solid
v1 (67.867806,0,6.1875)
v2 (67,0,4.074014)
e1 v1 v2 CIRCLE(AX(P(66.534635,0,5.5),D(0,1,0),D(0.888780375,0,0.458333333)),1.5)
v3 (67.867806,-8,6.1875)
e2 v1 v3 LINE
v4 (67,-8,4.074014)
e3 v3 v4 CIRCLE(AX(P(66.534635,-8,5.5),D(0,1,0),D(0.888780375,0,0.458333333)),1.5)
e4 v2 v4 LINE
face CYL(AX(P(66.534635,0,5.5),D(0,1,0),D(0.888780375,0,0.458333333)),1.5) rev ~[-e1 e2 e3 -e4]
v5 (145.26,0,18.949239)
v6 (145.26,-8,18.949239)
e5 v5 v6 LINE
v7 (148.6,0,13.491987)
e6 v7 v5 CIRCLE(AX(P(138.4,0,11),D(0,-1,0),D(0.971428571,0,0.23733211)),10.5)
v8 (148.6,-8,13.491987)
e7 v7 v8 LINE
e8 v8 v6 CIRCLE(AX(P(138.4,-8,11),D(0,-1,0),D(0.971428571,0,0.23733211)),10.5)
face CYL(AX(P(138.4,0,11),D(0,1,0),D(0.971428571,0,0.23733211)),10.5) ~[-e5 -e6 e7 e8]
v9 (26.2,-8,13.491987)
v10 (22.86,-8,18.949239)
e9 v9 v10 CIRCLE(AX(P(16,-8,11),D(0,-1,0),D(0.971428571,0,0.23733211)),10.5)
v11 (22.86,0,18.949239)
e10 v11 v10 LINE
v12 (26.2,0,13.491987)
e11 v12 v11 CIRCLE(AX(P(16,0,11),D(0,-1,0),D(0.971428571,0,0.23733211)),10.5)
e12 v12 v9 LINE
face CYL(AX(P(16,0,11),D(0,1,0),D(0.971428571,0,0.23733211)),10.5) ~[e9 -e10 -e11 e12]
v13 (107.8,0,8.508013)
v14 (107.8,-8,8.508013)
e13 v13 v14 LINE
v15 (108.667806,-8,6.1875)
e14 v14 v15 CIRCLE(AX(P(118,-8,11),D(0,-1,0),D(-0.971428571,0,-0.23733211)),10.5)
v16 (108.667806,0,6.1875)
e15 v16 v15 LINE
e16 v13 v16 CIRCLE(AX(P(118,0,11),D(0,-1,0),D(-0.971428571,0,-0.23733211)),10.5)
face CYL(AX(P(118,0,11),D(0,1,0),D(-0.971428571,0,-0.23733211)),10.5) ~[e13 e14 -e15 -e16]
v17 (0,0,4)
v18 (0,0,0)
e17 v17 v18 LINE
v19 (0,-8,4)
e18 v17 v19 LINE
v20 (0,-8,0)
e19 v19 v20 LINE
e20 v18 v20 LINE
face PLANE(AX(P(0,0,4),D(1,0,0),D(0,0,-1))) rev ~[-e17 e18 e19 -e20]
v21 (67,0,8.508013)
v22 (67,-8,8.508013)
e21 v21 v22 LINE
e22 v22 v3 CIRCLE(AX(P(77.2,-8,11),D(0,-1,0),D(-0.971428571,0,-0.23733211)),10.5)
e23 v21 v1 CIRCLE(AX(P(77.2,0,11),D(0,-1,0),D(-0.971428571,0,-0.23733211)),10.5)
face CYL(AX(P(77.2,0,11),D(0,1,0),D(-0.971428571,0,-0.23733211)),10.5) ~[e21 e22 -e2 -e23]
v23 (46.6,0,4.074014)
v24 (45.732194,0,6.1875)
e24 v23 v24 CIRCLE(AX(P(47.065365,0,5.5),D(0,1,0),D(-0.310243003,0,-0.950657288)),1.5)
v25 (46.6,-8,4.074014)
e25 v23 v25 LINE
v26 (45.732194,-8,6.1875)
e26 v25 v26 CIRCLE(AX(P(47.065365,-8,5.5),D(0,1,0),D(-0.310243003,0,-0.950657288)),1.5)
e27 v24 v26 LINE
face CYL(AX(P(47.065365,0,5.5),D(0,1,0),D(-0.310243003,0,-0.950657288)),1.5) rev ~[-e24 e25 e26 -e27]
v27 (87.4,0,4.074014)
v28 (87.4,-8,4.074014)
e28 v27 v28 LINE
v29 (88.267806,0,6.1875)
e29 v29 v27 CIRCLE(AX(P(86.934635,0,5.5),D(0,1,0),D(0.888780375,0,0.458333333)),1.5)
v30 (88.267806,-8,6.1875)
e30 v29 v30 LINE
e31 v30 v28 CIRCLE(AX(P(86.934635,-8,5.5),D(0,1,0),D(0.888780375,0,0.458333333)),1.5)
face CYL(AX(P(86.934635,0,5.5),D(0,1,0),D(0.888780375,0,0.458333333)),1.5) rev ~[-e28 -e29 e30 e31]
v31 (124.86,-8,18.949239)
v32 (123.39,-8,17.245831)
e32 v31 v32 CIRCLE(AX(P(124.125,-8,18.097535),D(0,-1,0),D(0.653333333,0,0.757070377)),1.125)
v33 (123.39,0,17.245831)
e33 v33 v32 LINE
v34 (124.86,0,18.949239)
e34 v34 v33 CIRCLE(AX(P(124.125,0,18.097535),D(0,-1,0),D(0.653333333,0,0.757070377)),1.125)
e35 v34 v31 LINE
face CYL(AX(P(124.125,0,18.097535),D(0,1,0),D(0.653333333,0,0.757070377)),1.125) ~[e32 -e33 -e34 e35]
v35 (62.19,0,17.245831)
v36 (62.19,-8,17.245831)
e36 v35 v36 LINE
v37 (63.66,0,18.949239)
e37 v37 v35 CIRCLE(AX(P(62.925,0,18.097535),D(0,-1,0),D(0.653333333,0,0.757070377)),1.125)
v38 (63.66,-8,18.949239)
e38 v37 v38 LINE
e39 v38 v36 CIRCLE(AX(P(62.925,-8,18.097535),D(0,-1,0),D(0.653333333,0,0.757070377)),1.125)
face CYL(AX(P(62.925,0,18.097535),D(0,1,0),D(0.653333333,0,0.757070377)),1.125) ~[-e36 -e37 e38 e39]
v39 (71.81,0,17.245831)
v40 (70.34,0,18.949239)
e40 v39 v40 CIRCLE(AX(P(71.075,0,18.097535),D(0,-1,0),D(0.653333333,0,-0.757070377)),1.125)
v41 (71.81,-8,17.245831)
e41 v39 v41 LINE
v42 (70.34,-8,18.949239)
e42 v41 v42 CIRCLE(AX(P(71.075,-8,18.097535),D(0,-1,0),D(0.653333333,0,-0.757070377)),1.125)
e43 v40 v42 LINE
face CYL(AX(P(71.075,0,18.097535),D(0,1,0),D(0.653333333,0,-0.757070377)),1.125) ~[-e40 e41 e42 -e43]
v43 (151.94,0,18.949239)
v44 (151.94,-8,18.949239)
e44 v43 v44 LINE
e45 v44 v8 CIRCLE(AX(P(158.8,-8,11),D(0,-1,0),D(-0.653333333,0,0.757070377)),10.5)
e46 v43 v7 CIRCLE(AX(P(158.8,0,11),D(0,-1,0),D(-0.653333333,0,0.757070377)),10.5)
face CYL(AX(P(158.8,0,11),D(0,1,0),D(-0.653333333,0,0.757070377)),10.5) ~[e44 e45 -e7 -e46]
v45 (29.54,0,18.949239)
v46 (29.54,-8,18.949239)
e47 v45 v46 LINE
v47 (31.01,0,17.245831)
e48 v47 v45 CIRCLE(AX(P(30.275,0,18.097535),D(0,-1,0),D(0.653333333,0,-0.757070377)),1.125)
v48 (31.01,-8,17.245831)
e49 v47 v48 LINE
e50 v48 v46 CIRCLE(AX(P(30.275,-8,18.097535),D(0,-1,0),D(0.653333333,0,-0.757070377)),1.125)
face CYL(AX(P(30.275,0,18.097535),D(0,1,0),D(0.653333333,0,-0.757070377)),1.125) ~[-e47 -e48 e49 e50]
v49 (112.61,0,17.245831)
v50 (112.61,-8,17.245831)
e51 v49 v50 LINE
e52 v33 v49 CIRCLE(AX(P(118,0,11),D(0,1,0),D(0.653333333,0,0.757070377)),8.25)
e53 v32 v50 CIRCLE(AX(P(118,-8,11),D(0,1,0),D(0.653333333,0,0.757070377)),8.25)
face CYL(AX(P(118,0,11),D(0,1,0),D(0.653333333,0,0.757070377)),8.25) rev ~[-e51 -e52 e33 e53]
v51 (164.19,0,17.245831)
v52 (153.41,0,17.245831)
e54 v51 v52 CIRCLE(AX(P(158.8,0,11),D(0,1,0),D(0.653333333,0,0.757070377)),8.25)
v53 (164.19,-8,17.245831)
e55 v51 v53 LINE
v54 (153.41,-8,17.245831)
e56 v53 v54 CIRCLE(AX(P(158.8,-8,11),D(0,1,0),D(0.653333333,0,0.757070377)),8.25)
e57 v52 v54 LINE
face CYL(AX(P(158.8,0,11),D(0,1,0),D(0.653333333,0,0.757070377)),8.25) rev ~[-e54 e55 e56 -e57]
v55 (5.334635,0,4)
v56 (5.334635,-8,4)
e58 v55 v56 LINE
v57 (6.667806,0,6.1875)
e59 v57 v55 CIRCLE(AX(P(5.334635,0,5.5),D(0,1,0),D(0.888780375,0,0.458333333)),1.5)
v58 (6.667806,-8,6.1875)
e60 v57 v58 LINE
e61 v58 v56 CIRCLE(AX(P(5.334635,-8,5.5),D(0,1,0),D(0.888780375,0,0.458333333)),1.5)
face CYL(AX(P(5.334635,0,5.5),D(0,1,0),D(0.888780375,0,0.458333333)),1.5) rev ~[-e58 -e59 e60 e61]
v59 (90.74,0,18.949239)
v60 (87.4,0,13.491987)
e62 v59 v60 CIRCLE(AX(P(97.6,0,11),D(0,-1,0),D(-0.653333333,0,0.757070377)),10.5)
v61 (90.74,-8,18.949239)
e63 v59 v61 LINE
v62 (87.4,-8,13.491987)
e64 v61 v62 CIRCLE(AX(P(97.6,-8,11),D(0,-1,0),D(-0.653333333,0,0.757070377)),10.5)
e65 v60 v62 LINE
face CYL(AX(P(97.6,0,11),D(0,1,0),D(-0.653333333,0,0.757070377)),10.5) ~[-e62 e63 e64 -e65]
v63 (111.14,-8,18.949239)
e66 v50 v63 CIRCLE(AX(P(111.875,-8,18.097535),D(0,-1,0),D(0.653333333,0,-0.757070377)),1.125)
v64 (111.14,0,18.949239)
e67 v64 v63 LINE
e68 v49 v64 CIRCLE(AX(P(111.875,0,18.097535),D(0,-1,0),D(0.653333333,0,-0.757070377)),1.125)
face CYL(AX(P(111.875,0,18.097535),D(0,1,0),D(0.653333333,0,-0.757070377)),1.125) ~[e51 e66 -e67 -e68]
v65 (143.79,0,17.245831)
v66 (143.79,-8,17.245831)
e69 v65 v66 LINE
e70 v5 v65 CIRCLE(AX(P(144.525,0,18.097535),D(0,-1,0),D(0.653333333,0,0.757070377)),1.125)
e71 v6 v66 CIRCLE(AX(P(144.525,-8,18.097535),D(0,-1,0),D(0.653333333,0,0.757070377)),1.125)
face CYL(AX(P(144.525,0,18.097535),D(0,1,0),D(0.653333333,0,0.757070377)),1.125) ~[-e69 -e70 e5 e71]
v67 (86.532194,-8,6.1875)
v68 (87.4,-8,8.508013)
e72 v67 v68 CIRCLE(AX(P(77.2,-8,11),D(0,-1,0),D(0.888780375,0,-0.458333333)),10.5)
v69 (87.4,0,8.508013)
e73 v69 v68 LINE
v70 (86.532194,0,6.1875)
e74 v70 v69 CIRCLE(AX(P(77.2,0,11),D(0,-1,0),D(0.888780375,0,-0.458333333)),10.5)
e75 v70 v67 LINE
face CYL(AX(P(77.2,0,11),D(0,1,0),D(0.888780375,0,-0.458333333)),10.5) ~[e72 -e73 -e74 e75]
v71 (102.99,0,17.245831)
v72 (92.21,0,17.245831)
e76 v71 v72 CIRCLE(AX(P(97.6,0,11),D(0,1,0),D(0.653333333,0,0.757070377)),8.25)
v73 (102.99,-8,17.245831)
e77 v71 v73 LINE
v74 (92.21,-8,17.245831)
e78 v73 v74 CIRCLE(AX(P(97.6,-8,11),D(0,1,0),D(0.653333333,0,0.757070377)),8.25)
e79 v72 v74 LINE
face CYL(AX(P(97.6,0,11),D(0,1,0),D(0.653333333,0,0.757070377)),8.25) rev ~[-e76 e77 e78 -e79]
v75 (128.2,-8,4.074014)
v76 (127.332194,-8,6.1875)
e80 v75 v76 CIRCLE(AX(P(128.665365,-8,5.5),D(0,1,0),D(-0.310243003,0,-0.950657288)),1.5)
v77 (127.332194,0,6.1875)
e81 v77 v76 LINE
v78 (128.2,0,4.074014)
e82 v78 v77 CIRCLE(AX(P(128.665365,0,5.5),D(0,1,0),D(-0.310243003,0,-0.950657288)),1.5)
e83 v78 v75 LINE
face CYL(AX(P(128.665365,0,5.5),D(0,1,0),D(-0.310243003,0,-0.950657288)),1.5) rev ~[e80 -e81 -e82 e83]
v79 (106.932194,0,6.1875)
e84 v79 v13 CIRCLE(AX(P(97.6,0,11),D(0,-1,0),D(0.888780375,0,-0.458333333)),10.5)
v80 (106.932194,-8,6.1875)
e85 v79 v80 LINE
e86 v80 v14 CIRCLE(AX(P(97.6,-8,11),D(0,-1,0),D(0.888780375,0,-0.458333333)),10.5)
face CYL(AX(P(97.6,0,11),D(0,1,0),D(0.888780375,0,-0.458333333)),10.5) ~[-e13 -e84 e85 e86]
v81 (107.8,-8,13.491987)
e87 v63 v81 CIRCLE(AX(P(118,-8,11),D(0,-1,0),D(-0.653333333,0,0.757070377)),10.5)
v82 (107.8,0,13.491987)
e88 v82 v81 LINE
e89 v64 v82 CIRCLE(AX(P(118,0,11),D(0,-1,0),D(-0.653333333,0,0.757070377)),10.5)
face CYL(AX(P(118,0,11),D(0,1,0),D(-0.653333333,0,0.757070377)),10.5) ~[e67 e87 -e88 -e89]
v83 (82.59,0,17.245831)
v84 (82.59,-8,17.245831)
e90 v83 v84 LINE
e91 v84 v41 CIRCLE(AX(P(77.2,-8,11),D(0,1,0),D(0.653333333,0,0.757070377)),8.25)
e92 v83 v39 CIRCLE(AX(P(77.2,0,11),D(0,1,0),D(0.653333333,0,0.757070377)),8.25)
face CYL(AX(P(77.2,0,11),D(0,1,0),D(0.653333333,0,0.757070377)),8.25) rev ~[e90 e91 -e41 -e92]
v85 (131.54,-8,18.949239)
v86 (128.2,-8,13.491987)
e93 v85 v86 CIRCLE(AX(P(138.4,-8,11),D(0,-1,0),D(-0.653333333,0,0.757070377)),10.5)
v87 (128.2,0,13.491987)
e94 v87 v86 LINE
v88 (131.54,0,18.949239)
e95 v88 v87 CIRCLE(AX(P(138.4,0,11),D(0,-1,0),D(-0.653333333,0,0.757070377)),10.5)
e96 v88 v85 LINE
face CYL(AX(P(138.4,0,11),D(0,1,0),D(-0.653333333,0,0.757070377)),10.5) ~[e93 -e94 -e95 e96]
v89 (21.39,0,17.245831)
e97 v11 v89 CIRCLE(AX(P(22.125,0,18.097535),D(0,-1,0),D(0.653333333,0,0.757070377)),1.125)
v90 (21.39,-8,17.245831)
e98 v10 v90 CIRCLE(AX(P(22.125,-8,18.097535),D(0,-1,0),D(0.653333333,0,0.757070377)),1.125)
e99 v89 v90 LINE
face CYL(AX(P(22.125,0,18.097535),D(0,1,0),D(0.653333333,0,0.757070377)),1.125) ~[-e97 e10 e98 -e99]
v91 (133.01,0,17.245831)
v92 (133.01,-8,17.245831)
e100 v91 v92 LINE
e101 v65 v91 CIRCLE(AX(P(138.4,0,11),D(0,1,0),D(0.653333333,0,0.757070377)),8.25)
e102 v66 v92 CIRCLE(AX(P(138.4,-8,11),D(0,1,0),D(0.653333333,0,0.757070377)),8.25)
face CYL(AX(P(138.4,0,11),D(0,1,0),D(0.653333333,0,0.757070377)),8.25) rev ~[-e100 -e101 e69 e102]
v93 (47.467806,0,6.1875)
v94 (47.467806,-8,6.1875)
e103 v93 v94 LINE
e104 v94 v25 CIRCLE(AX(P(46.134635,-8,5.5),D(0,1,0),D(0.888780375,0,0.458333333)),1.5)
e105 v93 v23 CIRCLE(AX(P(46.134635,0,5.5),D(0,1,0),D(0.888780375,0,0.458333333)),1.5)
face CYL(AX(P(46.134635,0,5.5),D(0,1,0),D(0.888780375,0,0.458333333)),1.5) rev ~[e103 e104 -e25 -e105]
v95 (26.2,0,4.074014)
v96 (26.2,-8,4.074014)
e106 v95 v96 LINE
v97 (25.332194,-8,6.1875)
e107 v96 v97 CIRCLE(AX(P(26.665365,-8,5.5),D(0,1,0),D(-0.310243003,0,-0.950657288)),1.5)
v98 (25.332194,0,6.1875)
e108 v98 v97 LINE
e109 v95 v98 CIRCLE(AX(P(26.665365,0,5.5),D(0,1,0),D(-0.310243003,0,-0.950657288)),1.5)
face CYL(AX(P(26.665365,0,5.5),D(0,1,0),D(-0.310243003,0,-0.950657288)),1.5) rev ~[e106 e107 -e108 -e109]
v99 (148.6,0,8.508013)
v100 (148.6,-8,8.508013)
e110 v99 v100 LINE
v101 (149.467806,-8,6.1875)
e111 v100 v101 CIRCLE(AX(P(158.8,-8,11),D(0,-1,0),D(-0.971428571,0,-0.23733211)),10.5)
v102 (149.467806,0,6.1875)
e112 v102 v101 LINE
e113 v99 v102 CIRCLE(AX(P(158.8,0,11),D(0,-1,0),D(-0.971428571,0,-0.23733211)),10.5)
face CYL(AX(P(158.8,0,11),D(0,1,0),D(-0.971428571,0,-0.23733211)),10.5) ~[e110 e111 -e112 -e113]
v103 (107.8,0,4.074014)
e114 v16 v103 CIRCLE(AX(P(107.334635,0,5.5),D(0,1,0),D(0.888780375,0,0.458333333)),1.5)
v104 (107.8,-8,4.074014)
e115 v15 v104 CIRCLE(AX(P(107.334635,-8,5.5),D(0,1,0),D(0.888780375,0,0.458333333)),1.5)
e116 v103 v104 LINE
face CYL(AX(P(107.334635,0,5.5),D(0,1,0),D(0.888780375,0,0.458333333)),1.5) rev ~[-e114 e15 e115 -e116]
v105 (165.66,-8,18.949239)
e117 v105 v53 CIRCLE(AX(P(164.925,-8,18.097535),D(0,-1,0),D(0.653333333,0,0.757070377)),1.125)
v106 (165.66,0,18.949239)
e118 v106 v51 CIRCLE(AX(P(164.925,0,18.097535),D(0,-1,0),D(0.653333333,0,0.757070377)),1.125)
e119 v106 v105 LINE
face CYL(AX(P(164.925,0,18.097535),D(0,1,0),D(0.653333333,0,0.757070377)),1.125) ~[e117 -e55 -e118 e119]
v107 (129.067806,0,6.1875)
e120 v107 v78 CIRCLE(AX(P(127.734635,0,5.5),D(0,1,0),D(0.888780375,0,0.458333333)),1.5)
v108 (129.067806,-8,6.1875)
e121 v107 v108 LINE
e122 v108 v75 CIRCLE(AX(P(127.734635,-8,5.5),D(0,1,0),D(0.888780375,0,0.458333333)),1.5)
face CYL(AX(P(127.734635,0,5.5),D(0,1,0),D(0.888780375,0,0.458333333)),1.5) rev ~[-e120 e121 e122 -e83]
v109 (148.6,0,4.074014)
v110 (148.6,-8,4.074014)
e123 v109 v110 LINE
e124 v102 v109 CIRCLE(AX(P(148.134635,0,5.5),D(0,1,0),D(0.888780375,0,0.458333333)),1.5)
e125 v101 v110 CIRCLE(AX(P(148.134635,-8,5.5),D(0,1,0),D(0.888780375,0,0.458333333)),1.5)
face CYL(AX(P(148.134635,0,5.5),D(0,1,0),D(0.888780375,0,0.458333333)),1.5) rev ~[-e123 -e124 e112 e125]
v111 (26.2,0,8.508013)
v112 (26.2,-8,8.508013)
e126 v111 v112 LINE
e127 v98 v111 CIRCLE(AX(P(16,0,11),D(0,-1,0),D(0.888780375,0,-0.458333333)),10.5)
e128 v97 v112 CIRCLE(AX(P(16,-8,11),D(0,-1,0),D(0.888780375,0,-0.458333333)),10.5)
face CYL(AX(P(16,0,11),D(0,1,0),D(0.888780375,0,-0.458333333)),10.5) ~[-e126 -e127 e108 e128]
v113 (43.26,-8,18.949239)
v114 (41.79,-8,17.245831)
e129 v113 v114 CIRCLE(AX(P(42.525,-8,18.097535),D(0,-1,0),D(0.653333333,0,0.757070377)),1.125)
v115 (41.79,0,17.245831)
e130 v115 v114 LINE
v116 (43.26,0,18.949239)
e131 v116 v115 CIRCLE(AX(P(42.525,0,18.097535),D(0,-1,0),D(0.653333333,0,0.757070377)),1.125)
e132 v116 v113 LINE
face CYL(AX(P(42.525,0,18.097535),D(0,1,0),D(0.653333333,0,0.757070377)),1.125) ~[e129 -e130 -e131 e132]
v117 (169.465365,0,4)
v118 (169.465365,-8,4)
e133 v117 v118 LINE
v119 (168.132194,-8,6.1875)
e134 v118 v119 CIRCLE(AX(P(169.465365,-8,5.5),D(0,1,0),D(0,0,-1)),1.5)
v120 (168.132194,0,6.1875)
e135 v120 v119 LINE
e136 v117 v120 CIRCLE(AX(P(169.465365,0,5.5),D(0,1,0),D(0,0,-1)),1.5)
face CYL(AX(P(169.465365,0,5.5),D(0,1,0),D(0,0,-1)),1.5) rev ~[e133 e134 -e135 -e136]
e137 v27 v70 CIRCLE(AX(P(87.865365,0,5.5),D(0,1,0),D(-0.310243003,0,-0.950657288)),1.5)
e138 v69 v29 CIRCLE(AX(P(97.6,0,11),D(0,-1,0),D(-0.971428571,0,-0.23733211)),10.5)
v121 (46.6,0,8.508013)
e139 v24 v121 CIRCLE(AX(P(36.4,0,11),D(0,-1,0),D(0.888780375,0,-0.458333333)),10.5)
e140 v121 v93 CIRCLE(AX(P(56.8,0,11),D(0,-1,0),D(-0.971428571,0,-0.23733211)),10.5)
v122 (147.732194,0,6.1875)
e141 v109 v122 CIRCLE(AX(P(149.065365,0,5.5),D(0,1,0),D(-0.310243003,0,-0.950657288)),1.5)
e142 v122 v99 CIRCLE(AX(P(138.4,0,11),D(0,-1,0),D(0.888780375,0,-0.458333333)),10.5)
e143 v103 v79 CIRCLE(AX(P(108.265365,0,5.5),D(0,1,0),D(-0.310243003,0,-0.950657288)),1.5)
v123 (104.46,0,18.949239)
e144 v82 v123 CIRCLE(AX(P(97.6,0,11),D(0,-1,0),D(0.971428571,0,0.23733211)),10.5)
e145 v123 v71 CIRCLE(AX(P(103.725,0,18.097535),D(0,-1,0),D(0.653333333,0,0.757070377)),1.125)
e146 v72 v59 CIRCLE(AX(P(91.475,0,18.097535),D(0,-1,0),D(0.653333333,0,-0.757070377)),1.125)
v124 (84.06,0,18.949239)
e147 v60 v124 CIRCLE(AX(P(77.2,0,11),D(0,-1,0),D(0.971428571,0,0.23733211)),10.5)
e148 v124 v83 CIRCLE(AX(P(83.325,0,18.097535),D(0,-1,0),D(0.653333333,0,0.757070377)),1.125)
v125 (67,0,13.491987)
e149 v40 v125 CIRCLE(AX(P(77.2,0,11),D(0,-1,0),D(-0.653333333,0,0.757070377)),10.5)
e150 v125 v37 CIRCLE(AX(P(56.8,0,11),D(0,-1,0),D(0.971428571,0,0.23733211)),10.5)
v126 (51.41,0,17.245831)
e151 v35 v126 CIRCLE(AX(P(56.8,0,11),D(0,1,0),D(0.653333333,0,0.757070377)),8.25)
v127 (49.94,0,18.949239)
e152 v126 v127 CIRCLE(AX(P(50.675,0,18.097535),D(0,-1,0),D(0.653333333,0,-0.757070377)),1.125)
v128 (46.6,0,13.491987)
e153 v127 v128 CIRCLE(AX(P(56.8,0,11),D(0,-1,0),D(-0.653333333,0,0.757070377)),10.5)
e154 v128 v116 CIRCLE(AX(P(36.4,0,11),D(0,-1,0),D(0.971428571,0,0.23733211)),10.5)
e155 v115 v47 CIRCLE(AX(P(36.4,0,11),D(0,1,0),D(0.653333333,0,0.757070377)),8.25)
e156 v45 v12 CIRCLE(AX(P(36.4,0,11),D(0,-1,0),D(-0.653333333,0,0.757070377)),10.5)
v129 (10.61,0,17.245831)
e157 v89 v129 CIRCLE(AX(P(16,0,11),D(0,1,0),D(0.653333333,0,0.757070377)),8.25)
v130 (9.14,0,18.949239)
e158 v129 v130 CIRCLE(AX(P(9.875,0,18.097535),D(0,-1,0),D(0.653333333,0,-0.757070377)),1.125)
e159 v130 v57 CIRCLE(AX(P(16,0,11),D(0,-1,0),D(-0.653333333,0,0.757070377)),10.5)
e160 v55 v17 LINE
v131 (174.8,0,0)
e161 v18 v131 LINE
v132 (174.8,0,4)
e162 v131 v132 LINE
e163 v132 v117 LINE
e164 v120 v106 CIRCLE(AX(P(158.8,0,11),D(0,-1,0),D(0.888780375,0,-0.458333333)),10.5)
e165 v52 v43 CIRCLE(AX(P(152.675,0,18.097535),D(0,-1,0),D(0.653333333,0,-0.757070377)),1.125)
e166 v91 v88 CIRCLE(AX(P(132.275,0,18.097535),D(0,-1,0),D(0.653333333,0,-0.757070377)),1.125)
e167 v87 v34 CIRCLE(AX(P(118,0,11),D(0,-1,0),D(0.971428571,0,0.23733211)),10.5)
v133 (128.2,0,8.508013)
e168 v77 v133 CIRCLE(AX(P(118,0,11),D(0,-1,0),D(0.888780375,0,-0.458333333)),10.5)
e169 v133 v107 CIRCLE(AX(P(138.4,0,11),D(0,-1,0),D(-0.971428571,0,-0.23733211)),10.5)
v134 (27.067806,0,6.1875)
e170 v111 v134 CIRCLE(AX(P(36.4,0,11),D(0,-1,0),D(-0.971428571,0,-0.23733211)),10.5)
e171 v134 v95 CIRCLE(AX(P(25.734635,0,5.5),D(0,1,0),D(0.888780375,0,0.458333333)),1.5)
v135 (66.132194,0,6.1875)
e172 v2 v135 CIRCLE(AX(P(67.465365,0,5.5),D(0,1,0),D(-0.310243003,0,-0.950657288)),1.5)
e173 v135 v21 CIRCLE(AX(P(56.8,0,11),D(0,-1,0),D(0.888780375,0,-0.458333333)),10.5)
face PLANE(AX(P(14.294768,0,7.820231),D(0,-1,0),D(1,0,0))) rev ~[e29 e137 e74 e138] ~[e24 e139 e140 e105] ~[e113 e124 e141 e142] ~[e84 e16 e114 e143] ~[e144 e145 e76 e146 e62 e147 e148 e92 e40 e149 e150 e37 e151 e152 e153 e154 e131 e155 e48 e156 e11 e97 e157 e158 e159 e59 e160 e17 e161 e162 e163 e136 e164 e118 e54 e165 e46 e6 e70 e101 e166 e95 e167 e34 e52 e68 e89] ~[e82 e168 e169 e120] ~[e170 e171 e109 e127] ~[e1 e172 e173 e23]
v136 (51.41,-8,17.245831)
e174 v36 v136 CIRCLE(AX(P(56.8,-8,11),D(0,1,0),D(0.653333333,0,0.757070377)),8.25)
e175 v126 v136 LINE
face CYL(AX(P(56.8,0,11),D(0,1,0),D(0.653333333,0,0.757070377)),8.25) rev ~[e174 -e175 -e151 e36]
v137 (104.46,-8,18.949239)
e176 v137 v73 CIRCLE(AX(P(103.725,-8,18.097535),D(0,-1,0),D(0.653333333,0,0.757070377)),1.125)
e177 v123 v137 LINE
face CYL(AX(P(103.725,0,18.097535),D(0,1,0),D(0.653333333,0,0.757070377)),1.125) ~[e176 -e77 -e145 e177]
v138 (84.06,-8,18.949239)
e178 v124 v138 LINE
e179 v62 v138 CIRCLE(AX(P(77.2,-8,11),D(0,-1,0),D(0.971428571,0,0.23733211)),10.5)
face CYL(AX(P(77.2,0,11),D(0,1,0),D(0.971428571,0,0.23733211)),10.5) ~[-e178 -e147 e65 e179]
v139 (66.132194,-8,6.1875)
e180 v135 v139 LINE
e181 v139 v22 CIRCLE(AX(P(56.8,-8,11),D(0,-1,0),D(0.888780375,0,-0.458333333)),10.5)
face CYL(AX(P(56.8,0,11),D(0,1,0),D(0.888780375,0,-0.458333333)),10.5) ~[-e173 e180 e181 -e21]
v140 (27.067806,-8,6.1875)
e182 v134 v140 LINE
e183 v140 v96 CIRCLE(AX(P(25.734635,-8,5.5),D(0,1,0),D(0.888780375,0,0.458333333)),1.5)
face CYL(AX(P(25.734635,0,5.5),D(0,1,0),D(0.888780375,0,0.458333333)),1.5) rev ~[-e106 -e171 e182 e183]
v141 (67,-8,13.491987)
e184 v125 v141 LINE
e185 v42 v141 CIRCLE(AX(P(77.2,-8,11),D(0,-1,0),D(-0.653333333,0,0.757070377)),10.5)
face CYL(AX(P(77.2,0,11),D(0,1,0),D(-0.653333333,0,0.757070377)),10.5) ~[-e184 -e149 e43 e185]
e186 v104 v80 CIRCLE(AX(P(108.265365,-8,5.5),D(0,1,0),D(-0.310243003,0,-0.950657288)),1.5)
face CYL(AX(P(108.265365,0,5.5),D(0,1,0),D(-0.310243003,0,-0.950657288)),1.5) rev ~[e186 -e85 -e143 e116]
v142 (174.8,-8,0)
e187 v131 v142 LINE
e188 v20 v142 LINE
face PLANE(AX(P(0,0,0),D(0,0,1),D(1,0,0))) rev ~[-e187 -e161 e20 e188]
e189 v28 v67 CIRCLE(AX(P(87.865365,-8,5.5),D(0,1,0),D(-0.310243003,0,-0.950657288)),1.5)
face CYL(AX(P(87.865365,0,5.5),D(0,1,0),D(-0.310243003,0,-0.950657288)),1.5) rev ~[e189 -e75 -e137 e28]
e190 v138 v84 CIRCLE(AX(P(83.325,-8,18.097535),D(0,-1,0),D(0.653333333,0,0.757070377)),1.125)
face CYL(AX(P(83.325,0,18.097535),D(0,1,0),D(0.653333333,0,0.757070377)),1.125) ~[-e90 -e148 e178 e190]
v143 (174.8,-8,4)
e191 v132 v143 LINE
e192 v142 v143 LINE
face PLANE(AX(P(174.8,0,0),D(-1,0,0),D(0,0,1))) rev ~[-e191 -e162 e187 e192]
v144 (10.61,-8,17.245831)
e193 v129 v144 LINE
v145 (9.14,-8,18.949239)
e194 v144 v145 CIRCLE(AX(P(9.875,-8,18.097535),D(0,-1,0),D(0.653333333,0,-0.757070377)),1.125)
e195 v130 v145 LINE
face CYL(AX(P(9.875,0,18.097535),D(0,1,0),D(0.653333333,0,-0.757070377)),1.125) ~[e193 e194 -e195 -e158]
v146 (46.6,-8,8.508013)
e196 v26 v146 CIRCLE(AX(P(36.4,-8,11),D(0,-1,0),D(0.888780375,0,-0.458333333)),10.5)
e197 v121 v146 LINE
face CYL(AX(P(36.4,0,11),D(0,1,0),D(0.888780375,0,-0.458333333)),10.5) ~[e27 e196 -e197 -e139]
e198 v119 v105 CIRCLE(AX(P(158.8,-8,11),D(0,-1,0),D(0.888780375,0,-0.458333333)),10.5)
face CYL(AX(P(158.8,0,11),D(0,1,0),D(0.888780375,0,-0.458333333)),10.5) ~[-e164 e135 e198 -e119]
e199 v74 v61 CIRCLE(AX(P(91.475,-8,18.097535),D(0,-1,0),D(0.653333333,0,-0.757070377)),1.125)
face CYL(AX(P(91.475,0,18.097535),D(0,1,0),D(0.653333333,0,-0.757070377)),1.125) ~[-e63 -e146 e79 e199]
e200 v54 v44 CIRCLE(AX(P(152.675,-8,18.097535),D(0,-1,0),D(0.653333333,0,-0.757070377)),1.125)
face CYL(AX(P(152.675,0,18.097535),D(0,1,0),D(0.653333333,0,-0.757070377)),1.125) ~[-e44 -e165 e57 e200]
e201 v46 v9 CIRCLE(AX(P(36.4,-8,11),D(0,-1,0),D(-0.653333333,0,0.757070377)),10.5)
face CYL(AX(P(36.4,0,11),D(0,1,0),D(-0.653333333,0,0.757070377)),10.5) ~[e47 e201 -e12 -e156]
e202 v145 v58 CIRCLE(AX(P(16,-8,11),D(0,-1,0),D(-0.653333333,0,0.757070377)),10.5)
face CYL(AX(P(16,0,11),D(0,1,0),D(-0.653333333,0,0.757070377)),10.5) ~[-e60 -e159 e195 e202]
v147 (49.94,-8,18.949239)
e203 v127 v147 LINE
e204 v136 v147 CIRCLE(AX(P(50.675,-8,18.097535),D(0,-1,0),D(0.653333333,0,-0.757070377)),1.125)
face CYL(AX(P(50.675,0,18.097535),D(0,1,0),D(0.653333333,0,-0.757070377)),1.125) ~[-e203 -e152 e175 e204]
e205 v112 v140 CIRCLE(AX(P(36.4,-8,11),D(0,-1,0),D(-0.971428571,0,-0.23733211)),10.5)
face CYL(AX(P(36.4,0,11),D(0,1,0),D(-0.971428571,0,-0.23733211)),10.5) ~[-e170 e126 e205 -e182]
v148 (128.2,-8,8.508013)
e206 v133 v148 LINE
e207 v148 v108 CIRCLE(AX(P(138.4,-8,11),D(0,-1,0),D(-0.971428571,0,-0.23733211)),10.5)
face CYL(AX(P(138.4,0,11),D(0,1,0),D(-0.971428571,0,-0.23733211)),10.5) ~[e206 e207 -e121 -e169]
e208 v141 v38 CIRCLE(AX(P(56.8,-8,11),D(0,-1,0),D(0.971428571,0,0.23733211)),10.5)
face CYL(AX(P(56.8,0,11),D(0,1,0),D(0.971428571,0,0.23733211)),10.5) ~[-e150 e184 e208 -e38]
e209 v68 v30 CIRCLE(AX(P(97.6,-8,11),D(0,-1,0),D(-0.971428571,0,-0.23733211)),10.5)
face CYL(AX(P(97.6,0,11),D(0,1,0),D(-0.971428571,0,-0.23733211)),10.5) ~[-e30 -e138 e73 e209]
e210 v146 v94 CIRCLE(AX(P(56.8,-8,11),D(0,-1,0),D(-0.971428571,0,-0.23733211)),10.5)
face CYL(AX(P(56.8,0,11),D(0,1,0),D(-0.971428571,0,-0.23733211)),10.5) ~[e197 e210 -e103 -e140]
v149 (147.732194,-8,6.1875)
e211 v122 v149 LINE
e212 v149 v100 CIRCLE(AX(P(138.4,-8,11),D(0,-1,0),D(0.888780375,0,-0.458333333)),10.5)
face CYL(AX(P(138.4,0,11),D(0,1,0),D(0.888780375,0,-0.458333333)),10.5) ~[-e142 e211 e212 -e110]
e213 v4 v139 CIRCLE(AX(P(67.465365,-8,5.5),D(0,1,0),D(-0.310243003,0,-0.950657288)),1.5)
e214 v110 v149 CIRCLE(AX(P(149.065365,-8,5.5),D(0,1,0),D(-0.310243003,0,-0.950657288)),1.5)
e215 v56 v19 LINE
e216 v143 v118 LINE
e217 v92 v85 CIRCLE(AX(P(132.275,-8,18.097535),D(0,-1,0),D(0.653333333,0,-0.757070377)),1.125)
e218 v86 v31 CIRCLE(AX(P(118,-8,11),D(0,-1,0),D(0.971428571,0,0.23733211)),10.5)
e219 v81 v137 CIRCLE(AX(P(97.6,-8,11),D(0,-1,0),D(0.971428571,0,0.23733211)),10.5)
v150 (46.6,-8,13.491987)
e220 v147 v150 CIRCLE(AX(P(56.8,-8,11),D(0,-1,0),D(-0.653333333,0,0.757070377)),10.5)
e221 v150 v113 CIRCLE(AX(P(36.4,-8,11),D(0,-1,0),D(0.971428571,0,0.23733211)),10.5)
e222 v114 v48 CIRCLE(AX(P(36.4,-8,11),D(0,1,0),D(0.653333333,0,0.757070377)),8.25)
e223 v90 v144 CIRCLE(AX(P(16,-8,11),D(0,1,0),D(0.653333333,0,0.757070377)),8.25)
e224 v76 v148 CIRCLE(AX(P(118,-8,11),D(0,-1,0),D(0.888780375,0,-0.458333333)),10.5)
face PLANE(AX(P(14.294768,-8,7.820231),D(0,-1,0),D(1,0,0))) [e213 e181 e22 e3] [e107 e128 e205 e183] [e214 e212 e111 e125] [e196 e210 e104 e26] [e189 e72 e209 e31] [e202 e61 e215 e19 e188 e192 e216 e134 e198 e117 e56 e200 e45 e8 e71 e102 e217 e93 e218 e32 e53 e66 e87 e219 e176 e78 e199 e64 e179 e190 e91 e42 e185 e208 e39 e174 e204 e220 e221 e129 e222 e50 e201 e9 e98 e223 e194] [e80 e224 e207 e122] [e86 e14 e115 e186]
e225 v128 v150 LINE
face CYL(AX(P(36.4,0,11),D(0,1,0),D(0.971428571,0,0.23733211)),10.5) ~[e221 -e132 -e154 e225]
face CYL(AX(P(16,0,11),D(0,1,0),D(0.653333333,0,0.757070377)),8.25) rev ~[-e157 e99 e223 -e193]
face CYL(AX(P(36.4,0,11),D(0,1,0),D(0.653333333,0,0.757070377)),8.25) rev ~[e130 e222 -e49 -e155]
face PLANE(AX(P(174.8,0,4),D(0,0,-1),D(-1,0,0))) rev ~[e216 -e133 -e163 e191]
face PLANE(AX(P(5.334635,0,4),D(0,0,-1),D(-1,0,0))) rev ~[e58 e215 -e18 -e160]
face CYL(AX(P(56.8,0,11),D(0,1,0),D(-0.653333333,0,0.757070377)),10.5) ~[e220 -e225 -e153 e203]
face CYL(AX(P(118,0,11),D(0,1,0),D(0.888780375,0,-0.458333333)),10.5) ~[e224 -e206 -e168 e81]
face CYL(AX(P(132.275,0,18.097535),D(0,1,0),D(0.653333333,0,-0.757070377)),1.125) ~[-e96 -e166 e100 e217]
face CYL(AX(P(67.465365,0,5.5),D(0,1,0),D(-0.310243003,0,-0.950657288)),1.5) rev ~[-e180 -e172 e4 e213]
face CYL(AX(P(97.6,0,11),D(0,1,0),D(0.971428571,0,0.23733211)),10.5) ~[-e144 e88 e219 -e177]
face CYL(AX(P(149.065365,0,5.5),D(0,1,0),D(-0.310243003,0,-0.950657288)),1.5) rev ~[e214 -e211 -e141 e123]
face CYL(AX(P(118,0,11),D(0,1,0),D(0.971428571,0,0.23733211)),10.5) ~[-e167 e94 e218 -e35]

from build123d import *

# Parameters (mm, degrees)
F1_DEPTH = 8


with BuildPart() as f1:
    # F0 (on Front) → F1 (new body)
    with BuildSketch(Plane.XZ):
        with BuildLine():
            Line((0, 4), (0, 0))
            Line((0, 0), (20.4, 0))
            Line((20.4, 0), (20.4, 4))
            Line((20.4, 4), (25.7346354961, 4))
            ThreePointArc((25.7346354961, 4), (25.970242268, 4.0186190736), (26.2, 4.0740140679))
            ThreePointArc((26.2, 4.0740140679), (25.2777810675, 4.9302525059), (25.3321939409, 6.1875))
            ThreePointArc((25.3321939409, 6.1875), (25.8347773232, 7.3220719144), (26.2, 8.5080128411))
            ThreePointArc((26.2, 8.5080128411), (25.9, 11), (26.2, 13.4919871589))
            ThreePointArc((26.2, 13.4919871589), (24.9557969661, 16.4812134334), (22.86, 18.9492389573))
            ThreePointArc((22.86, 18.9492389573), (21.273295826, 18.8325347833), (21.39, 17.2458306093))
            ThreePointArc((21.39, 17.2458306093), (16, 2.75), (10.61, 17.2458306093))
            ThreePointArc((10.61, 17.2458306093), (10.726704174, 18.8325347833), (9.14, 18.9492389573))
            ThreePointArc((9.14, 18.9492389573), (5.6916402149, 12.9969272751), (6.6678060591, 6.1875))
            ThreePointArc((6.6678060591, 6.1875), (6.6155043419, 4.7193752502), (5.3346354961, 4))
            Line((5.3346354961, 4), (0, 4))
        make_face()
        with BuildLine():
            Line((20.4, 4), (20.4, 0))
            Line((20.4, 0), (32, 0))
            Line((32, 0), (32, 4))
            Line((32, 4), (26.6653645039, 4))
            ThreePointArc((26.6653645039, 4), (26.429757732, 4.0186190736), (26.2, 4.0740140679))
            ThreePointArc((26.2, 4.0740140679), (25.970242268, 4.0186190736), (25.7346354961, 4))
            Line((25.7346354961, 4), (20.4, 4))
        make_face()
        with BuildLine():
            Line((32, 4), (32, 0))
            Line((32, 0), (40.8, 0))
            Line((40.8, 0), (40.8, 4))
            Line((40.8, 4), (46.1346354961, 4))
            ThreePointArc((46.1346354961, 4), (46.370242268, 4.0186190736), (46.6, 4.0740140679))
            ThreePointArc((46.6, 4.0740140679), (45.6777810675, 4.9302525059), (45.7321939409, 6.1875))
            ThreePointArc((45.7321939409, 6.1875), (46.2347773232, 7.3220719144), (46.6, 8.5080128411))
            ThreePointArc((46.6, 8.5080128411), (46.3, 11), (46.6, 13.4919871589))
            ThreePointArc((46.6, 13.4919871589), (45.3557969661, 16.4812134334), (43.26, 18.9492389573))
            ThreePointArc((43.26, 18.9492389573), (41.673295826, 18.8325347833), (41.79, 17.2458306093))
            ThreePointArc((41.79, 17.2458306093), (36.4, 2.75), (31.01, 17.2458306093))
            ThreePointArc((31.01, 17.2458306093), (31.126704174, 18.8325347833), (29.54, 18.9492389573))
            ThreePointArc((29.54, 18.9492389573), (27.4442030339, 16.4812134334), (26.2, 13.4919871589))
            ThreePointArc((26.2, 13.4919871589), (26.5, 11), (26.2, 8.5080128411))
            ThreePointArc((26.2, 8.5080128411), (26.5652226768, 7.3220719144), (27.0678060591, 6.1875))
            ThreePointArc((27.0678060591, 6.1875), (27.1222189325, 4.9302525059), (26.2, 4.0740140679))
            ThreePointArc((26.2, 4.0740140679), (26.429757732, 4.0186190736), (26.6653645039, 4))
            Line((26.6653645039, 4), (32, 4))
        make_face()
        with BuildLine():
            Line((40.8, 4), (40.8, 0))
            Line((40.8, 0), (52.4, 0))
            Line((52.4, 0), (52.4, 4))
            Line((52.4, 4), (47.0653645039, 4))
            ThreePointArc((47.0653645039, 4), (46.829757732, 4.0186190736), (46.6, 4.0740140679))
            ThreePointArc((46.6, 4.0740140679), (46.370242268, 4.0186190736), (46.1346354961, 4))
            Line((46.1346354961, 4), (40.8, 4))
        make_face()
        with BuildLine():
            Line((52.4, 4), (52.4, 0))
            Line((52.4, 0), (61.2, 0))
            Line((61.2, 0), (61.2, 4))
            Line((61.2, 4), (66.5346354961, 4))
            ThreePointArc((66.5346354961, 4), (66.770242268, 4.0186190736), (67, 4.0740140679))
            ThreePointArc((67, 4.0740140679), (66.0777810675, 4.9302525059), (66.1321939409, 6.1875))
            ThreePointArc((66.1321939409, 6.1875), (66.6347773232, 7.3220719144), (67, 8.5080128411))
            ThreePointArc((67, 8.5080128411), (66.7, 11), (67, 13.4919871589))
            ThreePointArc((67, 13.4919871589), (65.7557969661, 16.4812134334), (63.66, 18.9492389573))
            ThreePointArc((63.66, 18.9492389573), (62.073295826, 18.8325347833), (62.19, 17.2458306093))
            ThreePointArc((62.19, 17.2458306093), (56.8, 2.75), (51.41, 17.2458306093))
            ThreePointArc((51.41, 17.2458306093), (51.526704174, 18.8325347833), (49.94, 18.9492389573))
            ThreePointArc((49.94, 18.9492389573), (47.8442030339, 16.4812134334), (46.6, 13.4919871589))
            ThreePointArc((46.6, 13.4919871589), (46.9, 11), (46.6, 8.5080128411))
            ThreePointArc((46.6, 8.5080128411), (46.9652226768, 7.3220719144), (47.4678060591, 6.1875))
            ThreePointArc((47.4678060591, 6.1875), (47.5222189325, 4.9302525059), (46.6, 4.0740140679))
            ThreePointArc((46.6, 4.0740140679), (46.829757732, 4.0186190736), (47.0653645039, 4))
            Line((47.0653645039, 4), (52.4, 4))
        make_face()
        with BuildLine():
            Line((61.2, 4), (61.2, 0))
            Line((61.2, 0), (72.8, 0))
            Line((72.8, 0), (72.8, 4))
            Line((72.8, 4), (67.4653645039, 4))
            ThreePointArc((67.4653645039, 4), (67.229757732, 4.0186190736), (67, 4.0740140679))
            ThreePointArc((67, 4.0740140679), (66.770242268, 4.0186190736), (66.5346354961, 4))
            Line((66.5346354961, 4), (61.2, 4))
        make_face()
        with BuildLine():
            Line((72.8, 4), (72.8, 0))
            Line((72.8, 0), (81.6, 0))
            Line((81.6, 0), (81.6, 4))
            Line((81.6, 4), (86.9346354961, 4))
            ThreePointArc((86.9346354961, 4), (87.170242268, 4.0186190736), (87.4, 4.0740140679))
            ThreePointArc((87.4, 4.0740140679), (86.4777810675, 4.9302525059), (86.5321939409, 6.1875))
            ThreePointArc((86.5321939409, 6.1875), (87.0347773232, 7.3220719144), (87.4, 8.5080128411))
            ThreePointArc((87.4, 8.5080128411), (87.1, 11), (87.4, 13.4919871589))
            ThreePointArc((87.4, 13.4919871589), (86.1557969661, 16.4812134334), (84.06, 18.9492389573))
            ThreePointArc((84.06, 18.9492389573), (82.473295826, 18.8325347833), (82.59, 17.2458306093))
            ThreePointArc((82.59, 17.2458306093), (77.2, 2.75), (71.81, 17.2458306093))
            ThreePointArc((71.81, 17.2458306093), (71.926704174, 18.8325347833), (70.34, 18.9492389573))
            ThreePointArc((70.34, 18.9492389573), (68.2442030339, 16.4812134334), (67, 13.4919871589))
            ThreePointArc((67, 13.4919871589), (67.3, 11), (67, 8.5080128411))
            ThreePointArc((67, 8.5080128411), (67.3652226768, 7.3220719144), (67.8678060591, 6.1875))
            ThreePointArc((67.8678060591, 6.1875), (67.9222189325, 4.9302525059), (67, 4.0740140679))
            ThreePointArc((67, 4.0740140679), (67.229757732, 4.0186190736), (67.4653645039, 4))
            Line((67.4653645039, 4), (72.8, 4))
        make_face()
        with BuildLine():
            ThreePointArc((26.2, 13.4919871589), (25.9, 11), (26.2, 8.5080128411))
            ThreePointArc((26.2, 8.5080128411), (26.5, 11), (26.2, 13.4919871589))
        make_face()
        with BuildLine():
            Line((81.6, 4), (81.6, 0))
            Line((81.6, 0), (93.2, 0))
            Line((93.2, 0), (93.2, 4))
            Line((93.2, 4), (87.8653645039, 4))
            ThreePointArc((87.8653645039, 4), (87.629757732, 4.0186190736), (87.4, 4.0740140679))
            ThreePointArc((87.4, 4.0740140679), (87.170242268, 4.0186190736), (86.9346354961, 4))
            Line((86.9346354961, 4), (81.6, 4))
        make_face()
        with BuildLine():
            Line((93.2, 4), (93.2, 0))
            Line((93.2, 0), (102, 0))
            Line((102, 0), (102, 4))
            Line((102, 4), (107.3346354961, 4))
            ThreePointArc((107.3346354961, 4), (107.570242268, 4.0186190736), (107.8, 4.0740140679))
            ThreePointArc((107.8, 4.0740140679), (106.8777810675, 4.9302525059), (106.9321939409, 6.1875))
            ThreePointArc((106.9321939409, 6.1875), (107.4347773232, 7.3220719144), (107.8, 8.5080128411))
            ThreePointArc((107.8, 8.5080128411), (107.5, 11), (107.8, 13.4919871589))
            ThreePointArc((107.8, 13.4919871589), (106.5557969661, 16.4812134334), (104.46, 18.9492389573))
            ThreePointArc((104.46, 18.9492389573), (102.873295826, 18.8325347833), (102.99, 17.2458306093))
            ThreePointArc((102.99, 17.2458306093), (97.6, 2.75), (92.21, 17.2458306093))
            ThreePointArc((92.21, 17.2458306093), (92.326704174, 18.8325347833), (90.74, 18.9492389573))
            ThreePointArc((90.74, 18.9492389573), (88.6442030339, 16.4812134334), (87.4, 13.4919871589))
            ThreePointArc((87.4, 13.4919871589), (87.7, 11), (87.4, 8.5080128411))
            ThreePointArc((87.4, 8.5080128411), (87.7652226768, 7.3220719144), (88.2678060591, 6.1875))
            ThreePointArc((88.2678060591, 6.1875), (88.3222189325, 4.9302525059), (87.4, 4.0740140679))
            ThreePointArc((87.4, 4.0740140679), (87.629757732, 4.0186190736), (87.8653645039, 4))
            Line((87.8653645039, 4), (93.2, 4))
        make_face()
        with BuildLine():
            ThreePointArc((46.6, 13.4919871589), (46.3, 11), (46.6, 8.5080128411))
            ThreePointArc((46.6, 8.5080128411), (46.9, 11), (46.6, 13.4919871589))
        make_face()
        with BuildLine():
            Line((102, 4), (102, 0))
            Line((102, 0), (113.6, 0))
            Line((113.6, 0), (113.6, 4))
            Line((113.6, 4), (108.2653645039, 4))
            ThreePointArc((108.2653645039, 4), (108.029757732, 4.0186190736), (107.8, 4.0740140679))
            ThreePointArc((107.8, 4.0740140679), (107.570242268, 4.0186190736), (107.3346354961, 4))
            Line((107.3346354961, 4), (102, 4))
        make_face()
        with BuildLine():
            Line((113.6, 4), (113.6, 0))
            Line((113.6, 0), (122.4, 0))
            Line((122.4, 0), (122.4, 4))
            Line((122.4, 4), (127.7346354961, 4))
            ThreePointArc((127.7346354961, 4), (127.970242268, 4.0186190736), (128.2, 4.0740140679))
            ThreePointArc((128.2, 4.0740140679), (127.2777810675, 4.9302525059), (127.3321939409, 6.1875))
            ThreePointArc((127.3321939409, 6.1875), (127.8347773232, 7.3220719144), (128.2, 8.5080128411))
            ThreePointArc((128.2, 8.5080128411), (127.9, 11), (128.2, 13.4919871589))
            ThreePointArc((128.2, 13.4919871589), (126.9557969661, 16.4812134334), (124.86, 18.9492389573))
            ThreePointArc((124.86, 18.9492389573), (123.273295826, 18.8325347833), (123.39, 17.2458306093))
            ThreePointArc((123.39, 17.2458306093), (118, 2.75), (112.61, 17.2458306093))
            ThreePointArc((112.61, 17.2458306093), (112.726704174, 18.8325347833), (111.14, 18.9492389573))
            ThreePointArc((111.14, 18.9492389573), (109.0442030339, 16.4812134334), (107.8, 13.4919871589))
            ThreePointArc((107.8, 13.4919871589), (108.1, 11), (107.8, 8.5080128411))
            ThreePointArc((107.8, 8.5080128411), (108.1652226768, 7.3220719144), (108.6678060591, 6.1875))
            ThreePointArc((108.6678060591, 6.1875), (108.7222189325, 4.9302525059), (107.8, 4.0740140679))
            ThreePointArc((107.8, 4.0740140679), (108.029757732, 4.0186190736), (108.2653645039, 4))
            Line((108.2653645039, 4), (113.6, 4))
        make_face()
        with BuildLine():
            ThreePointArc((67, 13.4919871589), (66.7, 11), (67, 8.5080128411))
            ThreePointArc((67, 8.5080128411), (67.3, 11), (67, 13.4919871589))
        make_face()
        with BuildLine():
            Line((122.4, 4), (122.4, 0))
            Line((122.4, 0), (134, 0))
            Line((134, 0), (134, 4))
            Line((134, 4), (128.6653645039, 4))
            ThreePointArc((128.6653645039, 4), (128.429757732, 4.0186190736), (128.2, 4.0740140679))
            ThreePointArc((128.2, 4.0740140679), (127.970242268, 4.0186190736), (127.7346354961, 4))
            Line((127.7346354961, 4), (122.4, 4))
        make_face()
        with BuildLine():
            Line((134, 4), (134, 0))
            Line((134, 0), (142.8, 0))
            Line((142.8, 0), (142.8, 4))
            Line((142.8, 4), (148.1346354961, 4))
            ThreePointArc((148.1346354961, 4), (148.370242268, 4.0186190736), (148.6, 4.0740140679))
            ThreePointArc((148.6, 4.0740140679), (147.6777810675, 4.9302525059), (147.7321939409, 6.1875))
            ThreePointArc((147.7321939409, 6.1875), (148.2347773232, 7.3220719144), (148.6, 8.5080128411))
            ThreePointArc((148.6, 8.5080128411), (148.3, 11), (148.6, 13.4919871589))
            ThreePointArc((148.6, 13.4919871589), (147.3557969661, 16.4812134334), (145.26, 18.9492389573))
            ThreePointArc((145.26, 18.9492389573), (143.673295826, 18.8325347833), (143.79, 17.2458306093))
            ThreePointArc((143.79, 17.2458306093), (138.4, 2.75), (133.01, 17.2458306093))
            ThreePointArc((133.01, 17.2458306093), (133.126704174, 18.8325347833), (131.54, 18.9492389573))
            ThreePointArc((131.54, 18.9492389573), (129.4442030339, 16.4812134334), (128.2, 13.4919871589))
            ThreePointArc((128.2, 13.4919871589), (128.5, 11), (128.2, 8.5080128411))
            ThreePointArc((128.2, 8.5080128411), (128.5652226768, 7.3220719144), (129.0678060591, 6.1875))
            ThreePointArc((129.0678060591, 6.1875), (129.1222189325, 4.9302525059), (128.2, 4.0740140679))
            ThreePointArc((128.2, 4.0740140679), (128.429757732, 4.0186190736), (128.6653645039, 4))
            Line((128.6653645039, 4), (134, 4))
        make_face()
        with BuildLine():
            ThreePointArc((87.4, 13.4919871589), (87.1, 11), (87.4, 8.5080128411))
            ThreePointArc((87.4, 8.5080128411), (87.7, 11), (87.4, 13.4919871589))
        make_face()
        with BuildLine():
            Line((142.8, 4), (142.8, 0))
            Line((142.8, 0), (154.4, 0))
            Line((154.4, 0), (154.4, 4))
            Line((154.4, 4), (149.0653645039, 4))
            ThreePointArc((149.0653645039, 4), (148.829757732, 4.0186190736), (148.6, 4.0740140679))
            ThreePointArc((148.6, 4.0740140679), (148.370242268, 4.0186190736), (148.1346354961, 4))
            Line((148.1346354961, 4), (142.8, 4))
        make_face()
        with BuildLine():
            Line((154.4, 4), (154.4, 0))
            Line((154.4, 0), (174.8, 0))
            Line((174.8, 0), (174.8, 4))
            Line((174.8, 4), (169.4653645039, 4))
            ThreePointArc((169.4653645039, 4), (168.1844956581, 4.7193752502), (168.1321939409, 6.1875))
            ThreePointArc((168.1321939409, 6.1875), (169.1083597851, 12.9969272751), (165.66, 18.9492389573))
            ThreePointArc((165.66, 18.9492389573), (164.073295826, 18.8325347833), (164.19, 17.2458306093))
            ThreePointArc((164.19, 17.2458306093), (158.8, 2.75), (153.41, 17.2458306093))
            ThreePointArc((153.41, 17.2458306093), (153.526704174, 18.8325347833), (151.94, 18.9492389573))
            ThreePointArc((151.94, 18.9492389573), (149.8442030339, 16.4812134334), (148.6, 13.4919871589))
            ThreePointArc((148.6, 13.4919871589), (148.9, 11), (148.6, 8.5080128411))
            ThreePointArc((148.6, 8.5080128411), (148.9652226768, 7.3220719144), (149.4678060591, 6.1875))
            ThreePointArc((149.4678060591, 6.1875), (149.5222189325, 4.9302525059), (148.6, 4.0740140679))
            ThreePointArc((148.6, 4.0740140679), (148.829757732, 4.0186190736), (149.0653645039, 4))
            Line((149.0653645039, 4), (154.4, 4))
        make_face()
        with BuildLine():
            ThreePointArc((107.8, 13.4919871589), (107.5, 11), (107.8, 8.5080128411))
            ThreePointArc((107.8, 8.5080128411), (108.1, 11), (107.8, 13.4919871589))
        make_face()
        with BuildLine():
            ThreePointArc((128.2, 13.4919871589), (127.9, 11), (128.2, 8.5080128411))
            ThreePointArc((128.2, 8.5080128411), (128.5, 11), (128.2, 13.4919871589))
        make_face()
        with BuildLine():
            ThreePointArc((148.6, 13.4919871589), (148.3, 11), (148.6, 8.5080128411))
            ThreePointArc((148.6, 8.5080128411), (148.9, 11), (148.6, 13.4919871589))
        make_face()
    extrude(amount=F1_DEPTH)


solid = f1.part
